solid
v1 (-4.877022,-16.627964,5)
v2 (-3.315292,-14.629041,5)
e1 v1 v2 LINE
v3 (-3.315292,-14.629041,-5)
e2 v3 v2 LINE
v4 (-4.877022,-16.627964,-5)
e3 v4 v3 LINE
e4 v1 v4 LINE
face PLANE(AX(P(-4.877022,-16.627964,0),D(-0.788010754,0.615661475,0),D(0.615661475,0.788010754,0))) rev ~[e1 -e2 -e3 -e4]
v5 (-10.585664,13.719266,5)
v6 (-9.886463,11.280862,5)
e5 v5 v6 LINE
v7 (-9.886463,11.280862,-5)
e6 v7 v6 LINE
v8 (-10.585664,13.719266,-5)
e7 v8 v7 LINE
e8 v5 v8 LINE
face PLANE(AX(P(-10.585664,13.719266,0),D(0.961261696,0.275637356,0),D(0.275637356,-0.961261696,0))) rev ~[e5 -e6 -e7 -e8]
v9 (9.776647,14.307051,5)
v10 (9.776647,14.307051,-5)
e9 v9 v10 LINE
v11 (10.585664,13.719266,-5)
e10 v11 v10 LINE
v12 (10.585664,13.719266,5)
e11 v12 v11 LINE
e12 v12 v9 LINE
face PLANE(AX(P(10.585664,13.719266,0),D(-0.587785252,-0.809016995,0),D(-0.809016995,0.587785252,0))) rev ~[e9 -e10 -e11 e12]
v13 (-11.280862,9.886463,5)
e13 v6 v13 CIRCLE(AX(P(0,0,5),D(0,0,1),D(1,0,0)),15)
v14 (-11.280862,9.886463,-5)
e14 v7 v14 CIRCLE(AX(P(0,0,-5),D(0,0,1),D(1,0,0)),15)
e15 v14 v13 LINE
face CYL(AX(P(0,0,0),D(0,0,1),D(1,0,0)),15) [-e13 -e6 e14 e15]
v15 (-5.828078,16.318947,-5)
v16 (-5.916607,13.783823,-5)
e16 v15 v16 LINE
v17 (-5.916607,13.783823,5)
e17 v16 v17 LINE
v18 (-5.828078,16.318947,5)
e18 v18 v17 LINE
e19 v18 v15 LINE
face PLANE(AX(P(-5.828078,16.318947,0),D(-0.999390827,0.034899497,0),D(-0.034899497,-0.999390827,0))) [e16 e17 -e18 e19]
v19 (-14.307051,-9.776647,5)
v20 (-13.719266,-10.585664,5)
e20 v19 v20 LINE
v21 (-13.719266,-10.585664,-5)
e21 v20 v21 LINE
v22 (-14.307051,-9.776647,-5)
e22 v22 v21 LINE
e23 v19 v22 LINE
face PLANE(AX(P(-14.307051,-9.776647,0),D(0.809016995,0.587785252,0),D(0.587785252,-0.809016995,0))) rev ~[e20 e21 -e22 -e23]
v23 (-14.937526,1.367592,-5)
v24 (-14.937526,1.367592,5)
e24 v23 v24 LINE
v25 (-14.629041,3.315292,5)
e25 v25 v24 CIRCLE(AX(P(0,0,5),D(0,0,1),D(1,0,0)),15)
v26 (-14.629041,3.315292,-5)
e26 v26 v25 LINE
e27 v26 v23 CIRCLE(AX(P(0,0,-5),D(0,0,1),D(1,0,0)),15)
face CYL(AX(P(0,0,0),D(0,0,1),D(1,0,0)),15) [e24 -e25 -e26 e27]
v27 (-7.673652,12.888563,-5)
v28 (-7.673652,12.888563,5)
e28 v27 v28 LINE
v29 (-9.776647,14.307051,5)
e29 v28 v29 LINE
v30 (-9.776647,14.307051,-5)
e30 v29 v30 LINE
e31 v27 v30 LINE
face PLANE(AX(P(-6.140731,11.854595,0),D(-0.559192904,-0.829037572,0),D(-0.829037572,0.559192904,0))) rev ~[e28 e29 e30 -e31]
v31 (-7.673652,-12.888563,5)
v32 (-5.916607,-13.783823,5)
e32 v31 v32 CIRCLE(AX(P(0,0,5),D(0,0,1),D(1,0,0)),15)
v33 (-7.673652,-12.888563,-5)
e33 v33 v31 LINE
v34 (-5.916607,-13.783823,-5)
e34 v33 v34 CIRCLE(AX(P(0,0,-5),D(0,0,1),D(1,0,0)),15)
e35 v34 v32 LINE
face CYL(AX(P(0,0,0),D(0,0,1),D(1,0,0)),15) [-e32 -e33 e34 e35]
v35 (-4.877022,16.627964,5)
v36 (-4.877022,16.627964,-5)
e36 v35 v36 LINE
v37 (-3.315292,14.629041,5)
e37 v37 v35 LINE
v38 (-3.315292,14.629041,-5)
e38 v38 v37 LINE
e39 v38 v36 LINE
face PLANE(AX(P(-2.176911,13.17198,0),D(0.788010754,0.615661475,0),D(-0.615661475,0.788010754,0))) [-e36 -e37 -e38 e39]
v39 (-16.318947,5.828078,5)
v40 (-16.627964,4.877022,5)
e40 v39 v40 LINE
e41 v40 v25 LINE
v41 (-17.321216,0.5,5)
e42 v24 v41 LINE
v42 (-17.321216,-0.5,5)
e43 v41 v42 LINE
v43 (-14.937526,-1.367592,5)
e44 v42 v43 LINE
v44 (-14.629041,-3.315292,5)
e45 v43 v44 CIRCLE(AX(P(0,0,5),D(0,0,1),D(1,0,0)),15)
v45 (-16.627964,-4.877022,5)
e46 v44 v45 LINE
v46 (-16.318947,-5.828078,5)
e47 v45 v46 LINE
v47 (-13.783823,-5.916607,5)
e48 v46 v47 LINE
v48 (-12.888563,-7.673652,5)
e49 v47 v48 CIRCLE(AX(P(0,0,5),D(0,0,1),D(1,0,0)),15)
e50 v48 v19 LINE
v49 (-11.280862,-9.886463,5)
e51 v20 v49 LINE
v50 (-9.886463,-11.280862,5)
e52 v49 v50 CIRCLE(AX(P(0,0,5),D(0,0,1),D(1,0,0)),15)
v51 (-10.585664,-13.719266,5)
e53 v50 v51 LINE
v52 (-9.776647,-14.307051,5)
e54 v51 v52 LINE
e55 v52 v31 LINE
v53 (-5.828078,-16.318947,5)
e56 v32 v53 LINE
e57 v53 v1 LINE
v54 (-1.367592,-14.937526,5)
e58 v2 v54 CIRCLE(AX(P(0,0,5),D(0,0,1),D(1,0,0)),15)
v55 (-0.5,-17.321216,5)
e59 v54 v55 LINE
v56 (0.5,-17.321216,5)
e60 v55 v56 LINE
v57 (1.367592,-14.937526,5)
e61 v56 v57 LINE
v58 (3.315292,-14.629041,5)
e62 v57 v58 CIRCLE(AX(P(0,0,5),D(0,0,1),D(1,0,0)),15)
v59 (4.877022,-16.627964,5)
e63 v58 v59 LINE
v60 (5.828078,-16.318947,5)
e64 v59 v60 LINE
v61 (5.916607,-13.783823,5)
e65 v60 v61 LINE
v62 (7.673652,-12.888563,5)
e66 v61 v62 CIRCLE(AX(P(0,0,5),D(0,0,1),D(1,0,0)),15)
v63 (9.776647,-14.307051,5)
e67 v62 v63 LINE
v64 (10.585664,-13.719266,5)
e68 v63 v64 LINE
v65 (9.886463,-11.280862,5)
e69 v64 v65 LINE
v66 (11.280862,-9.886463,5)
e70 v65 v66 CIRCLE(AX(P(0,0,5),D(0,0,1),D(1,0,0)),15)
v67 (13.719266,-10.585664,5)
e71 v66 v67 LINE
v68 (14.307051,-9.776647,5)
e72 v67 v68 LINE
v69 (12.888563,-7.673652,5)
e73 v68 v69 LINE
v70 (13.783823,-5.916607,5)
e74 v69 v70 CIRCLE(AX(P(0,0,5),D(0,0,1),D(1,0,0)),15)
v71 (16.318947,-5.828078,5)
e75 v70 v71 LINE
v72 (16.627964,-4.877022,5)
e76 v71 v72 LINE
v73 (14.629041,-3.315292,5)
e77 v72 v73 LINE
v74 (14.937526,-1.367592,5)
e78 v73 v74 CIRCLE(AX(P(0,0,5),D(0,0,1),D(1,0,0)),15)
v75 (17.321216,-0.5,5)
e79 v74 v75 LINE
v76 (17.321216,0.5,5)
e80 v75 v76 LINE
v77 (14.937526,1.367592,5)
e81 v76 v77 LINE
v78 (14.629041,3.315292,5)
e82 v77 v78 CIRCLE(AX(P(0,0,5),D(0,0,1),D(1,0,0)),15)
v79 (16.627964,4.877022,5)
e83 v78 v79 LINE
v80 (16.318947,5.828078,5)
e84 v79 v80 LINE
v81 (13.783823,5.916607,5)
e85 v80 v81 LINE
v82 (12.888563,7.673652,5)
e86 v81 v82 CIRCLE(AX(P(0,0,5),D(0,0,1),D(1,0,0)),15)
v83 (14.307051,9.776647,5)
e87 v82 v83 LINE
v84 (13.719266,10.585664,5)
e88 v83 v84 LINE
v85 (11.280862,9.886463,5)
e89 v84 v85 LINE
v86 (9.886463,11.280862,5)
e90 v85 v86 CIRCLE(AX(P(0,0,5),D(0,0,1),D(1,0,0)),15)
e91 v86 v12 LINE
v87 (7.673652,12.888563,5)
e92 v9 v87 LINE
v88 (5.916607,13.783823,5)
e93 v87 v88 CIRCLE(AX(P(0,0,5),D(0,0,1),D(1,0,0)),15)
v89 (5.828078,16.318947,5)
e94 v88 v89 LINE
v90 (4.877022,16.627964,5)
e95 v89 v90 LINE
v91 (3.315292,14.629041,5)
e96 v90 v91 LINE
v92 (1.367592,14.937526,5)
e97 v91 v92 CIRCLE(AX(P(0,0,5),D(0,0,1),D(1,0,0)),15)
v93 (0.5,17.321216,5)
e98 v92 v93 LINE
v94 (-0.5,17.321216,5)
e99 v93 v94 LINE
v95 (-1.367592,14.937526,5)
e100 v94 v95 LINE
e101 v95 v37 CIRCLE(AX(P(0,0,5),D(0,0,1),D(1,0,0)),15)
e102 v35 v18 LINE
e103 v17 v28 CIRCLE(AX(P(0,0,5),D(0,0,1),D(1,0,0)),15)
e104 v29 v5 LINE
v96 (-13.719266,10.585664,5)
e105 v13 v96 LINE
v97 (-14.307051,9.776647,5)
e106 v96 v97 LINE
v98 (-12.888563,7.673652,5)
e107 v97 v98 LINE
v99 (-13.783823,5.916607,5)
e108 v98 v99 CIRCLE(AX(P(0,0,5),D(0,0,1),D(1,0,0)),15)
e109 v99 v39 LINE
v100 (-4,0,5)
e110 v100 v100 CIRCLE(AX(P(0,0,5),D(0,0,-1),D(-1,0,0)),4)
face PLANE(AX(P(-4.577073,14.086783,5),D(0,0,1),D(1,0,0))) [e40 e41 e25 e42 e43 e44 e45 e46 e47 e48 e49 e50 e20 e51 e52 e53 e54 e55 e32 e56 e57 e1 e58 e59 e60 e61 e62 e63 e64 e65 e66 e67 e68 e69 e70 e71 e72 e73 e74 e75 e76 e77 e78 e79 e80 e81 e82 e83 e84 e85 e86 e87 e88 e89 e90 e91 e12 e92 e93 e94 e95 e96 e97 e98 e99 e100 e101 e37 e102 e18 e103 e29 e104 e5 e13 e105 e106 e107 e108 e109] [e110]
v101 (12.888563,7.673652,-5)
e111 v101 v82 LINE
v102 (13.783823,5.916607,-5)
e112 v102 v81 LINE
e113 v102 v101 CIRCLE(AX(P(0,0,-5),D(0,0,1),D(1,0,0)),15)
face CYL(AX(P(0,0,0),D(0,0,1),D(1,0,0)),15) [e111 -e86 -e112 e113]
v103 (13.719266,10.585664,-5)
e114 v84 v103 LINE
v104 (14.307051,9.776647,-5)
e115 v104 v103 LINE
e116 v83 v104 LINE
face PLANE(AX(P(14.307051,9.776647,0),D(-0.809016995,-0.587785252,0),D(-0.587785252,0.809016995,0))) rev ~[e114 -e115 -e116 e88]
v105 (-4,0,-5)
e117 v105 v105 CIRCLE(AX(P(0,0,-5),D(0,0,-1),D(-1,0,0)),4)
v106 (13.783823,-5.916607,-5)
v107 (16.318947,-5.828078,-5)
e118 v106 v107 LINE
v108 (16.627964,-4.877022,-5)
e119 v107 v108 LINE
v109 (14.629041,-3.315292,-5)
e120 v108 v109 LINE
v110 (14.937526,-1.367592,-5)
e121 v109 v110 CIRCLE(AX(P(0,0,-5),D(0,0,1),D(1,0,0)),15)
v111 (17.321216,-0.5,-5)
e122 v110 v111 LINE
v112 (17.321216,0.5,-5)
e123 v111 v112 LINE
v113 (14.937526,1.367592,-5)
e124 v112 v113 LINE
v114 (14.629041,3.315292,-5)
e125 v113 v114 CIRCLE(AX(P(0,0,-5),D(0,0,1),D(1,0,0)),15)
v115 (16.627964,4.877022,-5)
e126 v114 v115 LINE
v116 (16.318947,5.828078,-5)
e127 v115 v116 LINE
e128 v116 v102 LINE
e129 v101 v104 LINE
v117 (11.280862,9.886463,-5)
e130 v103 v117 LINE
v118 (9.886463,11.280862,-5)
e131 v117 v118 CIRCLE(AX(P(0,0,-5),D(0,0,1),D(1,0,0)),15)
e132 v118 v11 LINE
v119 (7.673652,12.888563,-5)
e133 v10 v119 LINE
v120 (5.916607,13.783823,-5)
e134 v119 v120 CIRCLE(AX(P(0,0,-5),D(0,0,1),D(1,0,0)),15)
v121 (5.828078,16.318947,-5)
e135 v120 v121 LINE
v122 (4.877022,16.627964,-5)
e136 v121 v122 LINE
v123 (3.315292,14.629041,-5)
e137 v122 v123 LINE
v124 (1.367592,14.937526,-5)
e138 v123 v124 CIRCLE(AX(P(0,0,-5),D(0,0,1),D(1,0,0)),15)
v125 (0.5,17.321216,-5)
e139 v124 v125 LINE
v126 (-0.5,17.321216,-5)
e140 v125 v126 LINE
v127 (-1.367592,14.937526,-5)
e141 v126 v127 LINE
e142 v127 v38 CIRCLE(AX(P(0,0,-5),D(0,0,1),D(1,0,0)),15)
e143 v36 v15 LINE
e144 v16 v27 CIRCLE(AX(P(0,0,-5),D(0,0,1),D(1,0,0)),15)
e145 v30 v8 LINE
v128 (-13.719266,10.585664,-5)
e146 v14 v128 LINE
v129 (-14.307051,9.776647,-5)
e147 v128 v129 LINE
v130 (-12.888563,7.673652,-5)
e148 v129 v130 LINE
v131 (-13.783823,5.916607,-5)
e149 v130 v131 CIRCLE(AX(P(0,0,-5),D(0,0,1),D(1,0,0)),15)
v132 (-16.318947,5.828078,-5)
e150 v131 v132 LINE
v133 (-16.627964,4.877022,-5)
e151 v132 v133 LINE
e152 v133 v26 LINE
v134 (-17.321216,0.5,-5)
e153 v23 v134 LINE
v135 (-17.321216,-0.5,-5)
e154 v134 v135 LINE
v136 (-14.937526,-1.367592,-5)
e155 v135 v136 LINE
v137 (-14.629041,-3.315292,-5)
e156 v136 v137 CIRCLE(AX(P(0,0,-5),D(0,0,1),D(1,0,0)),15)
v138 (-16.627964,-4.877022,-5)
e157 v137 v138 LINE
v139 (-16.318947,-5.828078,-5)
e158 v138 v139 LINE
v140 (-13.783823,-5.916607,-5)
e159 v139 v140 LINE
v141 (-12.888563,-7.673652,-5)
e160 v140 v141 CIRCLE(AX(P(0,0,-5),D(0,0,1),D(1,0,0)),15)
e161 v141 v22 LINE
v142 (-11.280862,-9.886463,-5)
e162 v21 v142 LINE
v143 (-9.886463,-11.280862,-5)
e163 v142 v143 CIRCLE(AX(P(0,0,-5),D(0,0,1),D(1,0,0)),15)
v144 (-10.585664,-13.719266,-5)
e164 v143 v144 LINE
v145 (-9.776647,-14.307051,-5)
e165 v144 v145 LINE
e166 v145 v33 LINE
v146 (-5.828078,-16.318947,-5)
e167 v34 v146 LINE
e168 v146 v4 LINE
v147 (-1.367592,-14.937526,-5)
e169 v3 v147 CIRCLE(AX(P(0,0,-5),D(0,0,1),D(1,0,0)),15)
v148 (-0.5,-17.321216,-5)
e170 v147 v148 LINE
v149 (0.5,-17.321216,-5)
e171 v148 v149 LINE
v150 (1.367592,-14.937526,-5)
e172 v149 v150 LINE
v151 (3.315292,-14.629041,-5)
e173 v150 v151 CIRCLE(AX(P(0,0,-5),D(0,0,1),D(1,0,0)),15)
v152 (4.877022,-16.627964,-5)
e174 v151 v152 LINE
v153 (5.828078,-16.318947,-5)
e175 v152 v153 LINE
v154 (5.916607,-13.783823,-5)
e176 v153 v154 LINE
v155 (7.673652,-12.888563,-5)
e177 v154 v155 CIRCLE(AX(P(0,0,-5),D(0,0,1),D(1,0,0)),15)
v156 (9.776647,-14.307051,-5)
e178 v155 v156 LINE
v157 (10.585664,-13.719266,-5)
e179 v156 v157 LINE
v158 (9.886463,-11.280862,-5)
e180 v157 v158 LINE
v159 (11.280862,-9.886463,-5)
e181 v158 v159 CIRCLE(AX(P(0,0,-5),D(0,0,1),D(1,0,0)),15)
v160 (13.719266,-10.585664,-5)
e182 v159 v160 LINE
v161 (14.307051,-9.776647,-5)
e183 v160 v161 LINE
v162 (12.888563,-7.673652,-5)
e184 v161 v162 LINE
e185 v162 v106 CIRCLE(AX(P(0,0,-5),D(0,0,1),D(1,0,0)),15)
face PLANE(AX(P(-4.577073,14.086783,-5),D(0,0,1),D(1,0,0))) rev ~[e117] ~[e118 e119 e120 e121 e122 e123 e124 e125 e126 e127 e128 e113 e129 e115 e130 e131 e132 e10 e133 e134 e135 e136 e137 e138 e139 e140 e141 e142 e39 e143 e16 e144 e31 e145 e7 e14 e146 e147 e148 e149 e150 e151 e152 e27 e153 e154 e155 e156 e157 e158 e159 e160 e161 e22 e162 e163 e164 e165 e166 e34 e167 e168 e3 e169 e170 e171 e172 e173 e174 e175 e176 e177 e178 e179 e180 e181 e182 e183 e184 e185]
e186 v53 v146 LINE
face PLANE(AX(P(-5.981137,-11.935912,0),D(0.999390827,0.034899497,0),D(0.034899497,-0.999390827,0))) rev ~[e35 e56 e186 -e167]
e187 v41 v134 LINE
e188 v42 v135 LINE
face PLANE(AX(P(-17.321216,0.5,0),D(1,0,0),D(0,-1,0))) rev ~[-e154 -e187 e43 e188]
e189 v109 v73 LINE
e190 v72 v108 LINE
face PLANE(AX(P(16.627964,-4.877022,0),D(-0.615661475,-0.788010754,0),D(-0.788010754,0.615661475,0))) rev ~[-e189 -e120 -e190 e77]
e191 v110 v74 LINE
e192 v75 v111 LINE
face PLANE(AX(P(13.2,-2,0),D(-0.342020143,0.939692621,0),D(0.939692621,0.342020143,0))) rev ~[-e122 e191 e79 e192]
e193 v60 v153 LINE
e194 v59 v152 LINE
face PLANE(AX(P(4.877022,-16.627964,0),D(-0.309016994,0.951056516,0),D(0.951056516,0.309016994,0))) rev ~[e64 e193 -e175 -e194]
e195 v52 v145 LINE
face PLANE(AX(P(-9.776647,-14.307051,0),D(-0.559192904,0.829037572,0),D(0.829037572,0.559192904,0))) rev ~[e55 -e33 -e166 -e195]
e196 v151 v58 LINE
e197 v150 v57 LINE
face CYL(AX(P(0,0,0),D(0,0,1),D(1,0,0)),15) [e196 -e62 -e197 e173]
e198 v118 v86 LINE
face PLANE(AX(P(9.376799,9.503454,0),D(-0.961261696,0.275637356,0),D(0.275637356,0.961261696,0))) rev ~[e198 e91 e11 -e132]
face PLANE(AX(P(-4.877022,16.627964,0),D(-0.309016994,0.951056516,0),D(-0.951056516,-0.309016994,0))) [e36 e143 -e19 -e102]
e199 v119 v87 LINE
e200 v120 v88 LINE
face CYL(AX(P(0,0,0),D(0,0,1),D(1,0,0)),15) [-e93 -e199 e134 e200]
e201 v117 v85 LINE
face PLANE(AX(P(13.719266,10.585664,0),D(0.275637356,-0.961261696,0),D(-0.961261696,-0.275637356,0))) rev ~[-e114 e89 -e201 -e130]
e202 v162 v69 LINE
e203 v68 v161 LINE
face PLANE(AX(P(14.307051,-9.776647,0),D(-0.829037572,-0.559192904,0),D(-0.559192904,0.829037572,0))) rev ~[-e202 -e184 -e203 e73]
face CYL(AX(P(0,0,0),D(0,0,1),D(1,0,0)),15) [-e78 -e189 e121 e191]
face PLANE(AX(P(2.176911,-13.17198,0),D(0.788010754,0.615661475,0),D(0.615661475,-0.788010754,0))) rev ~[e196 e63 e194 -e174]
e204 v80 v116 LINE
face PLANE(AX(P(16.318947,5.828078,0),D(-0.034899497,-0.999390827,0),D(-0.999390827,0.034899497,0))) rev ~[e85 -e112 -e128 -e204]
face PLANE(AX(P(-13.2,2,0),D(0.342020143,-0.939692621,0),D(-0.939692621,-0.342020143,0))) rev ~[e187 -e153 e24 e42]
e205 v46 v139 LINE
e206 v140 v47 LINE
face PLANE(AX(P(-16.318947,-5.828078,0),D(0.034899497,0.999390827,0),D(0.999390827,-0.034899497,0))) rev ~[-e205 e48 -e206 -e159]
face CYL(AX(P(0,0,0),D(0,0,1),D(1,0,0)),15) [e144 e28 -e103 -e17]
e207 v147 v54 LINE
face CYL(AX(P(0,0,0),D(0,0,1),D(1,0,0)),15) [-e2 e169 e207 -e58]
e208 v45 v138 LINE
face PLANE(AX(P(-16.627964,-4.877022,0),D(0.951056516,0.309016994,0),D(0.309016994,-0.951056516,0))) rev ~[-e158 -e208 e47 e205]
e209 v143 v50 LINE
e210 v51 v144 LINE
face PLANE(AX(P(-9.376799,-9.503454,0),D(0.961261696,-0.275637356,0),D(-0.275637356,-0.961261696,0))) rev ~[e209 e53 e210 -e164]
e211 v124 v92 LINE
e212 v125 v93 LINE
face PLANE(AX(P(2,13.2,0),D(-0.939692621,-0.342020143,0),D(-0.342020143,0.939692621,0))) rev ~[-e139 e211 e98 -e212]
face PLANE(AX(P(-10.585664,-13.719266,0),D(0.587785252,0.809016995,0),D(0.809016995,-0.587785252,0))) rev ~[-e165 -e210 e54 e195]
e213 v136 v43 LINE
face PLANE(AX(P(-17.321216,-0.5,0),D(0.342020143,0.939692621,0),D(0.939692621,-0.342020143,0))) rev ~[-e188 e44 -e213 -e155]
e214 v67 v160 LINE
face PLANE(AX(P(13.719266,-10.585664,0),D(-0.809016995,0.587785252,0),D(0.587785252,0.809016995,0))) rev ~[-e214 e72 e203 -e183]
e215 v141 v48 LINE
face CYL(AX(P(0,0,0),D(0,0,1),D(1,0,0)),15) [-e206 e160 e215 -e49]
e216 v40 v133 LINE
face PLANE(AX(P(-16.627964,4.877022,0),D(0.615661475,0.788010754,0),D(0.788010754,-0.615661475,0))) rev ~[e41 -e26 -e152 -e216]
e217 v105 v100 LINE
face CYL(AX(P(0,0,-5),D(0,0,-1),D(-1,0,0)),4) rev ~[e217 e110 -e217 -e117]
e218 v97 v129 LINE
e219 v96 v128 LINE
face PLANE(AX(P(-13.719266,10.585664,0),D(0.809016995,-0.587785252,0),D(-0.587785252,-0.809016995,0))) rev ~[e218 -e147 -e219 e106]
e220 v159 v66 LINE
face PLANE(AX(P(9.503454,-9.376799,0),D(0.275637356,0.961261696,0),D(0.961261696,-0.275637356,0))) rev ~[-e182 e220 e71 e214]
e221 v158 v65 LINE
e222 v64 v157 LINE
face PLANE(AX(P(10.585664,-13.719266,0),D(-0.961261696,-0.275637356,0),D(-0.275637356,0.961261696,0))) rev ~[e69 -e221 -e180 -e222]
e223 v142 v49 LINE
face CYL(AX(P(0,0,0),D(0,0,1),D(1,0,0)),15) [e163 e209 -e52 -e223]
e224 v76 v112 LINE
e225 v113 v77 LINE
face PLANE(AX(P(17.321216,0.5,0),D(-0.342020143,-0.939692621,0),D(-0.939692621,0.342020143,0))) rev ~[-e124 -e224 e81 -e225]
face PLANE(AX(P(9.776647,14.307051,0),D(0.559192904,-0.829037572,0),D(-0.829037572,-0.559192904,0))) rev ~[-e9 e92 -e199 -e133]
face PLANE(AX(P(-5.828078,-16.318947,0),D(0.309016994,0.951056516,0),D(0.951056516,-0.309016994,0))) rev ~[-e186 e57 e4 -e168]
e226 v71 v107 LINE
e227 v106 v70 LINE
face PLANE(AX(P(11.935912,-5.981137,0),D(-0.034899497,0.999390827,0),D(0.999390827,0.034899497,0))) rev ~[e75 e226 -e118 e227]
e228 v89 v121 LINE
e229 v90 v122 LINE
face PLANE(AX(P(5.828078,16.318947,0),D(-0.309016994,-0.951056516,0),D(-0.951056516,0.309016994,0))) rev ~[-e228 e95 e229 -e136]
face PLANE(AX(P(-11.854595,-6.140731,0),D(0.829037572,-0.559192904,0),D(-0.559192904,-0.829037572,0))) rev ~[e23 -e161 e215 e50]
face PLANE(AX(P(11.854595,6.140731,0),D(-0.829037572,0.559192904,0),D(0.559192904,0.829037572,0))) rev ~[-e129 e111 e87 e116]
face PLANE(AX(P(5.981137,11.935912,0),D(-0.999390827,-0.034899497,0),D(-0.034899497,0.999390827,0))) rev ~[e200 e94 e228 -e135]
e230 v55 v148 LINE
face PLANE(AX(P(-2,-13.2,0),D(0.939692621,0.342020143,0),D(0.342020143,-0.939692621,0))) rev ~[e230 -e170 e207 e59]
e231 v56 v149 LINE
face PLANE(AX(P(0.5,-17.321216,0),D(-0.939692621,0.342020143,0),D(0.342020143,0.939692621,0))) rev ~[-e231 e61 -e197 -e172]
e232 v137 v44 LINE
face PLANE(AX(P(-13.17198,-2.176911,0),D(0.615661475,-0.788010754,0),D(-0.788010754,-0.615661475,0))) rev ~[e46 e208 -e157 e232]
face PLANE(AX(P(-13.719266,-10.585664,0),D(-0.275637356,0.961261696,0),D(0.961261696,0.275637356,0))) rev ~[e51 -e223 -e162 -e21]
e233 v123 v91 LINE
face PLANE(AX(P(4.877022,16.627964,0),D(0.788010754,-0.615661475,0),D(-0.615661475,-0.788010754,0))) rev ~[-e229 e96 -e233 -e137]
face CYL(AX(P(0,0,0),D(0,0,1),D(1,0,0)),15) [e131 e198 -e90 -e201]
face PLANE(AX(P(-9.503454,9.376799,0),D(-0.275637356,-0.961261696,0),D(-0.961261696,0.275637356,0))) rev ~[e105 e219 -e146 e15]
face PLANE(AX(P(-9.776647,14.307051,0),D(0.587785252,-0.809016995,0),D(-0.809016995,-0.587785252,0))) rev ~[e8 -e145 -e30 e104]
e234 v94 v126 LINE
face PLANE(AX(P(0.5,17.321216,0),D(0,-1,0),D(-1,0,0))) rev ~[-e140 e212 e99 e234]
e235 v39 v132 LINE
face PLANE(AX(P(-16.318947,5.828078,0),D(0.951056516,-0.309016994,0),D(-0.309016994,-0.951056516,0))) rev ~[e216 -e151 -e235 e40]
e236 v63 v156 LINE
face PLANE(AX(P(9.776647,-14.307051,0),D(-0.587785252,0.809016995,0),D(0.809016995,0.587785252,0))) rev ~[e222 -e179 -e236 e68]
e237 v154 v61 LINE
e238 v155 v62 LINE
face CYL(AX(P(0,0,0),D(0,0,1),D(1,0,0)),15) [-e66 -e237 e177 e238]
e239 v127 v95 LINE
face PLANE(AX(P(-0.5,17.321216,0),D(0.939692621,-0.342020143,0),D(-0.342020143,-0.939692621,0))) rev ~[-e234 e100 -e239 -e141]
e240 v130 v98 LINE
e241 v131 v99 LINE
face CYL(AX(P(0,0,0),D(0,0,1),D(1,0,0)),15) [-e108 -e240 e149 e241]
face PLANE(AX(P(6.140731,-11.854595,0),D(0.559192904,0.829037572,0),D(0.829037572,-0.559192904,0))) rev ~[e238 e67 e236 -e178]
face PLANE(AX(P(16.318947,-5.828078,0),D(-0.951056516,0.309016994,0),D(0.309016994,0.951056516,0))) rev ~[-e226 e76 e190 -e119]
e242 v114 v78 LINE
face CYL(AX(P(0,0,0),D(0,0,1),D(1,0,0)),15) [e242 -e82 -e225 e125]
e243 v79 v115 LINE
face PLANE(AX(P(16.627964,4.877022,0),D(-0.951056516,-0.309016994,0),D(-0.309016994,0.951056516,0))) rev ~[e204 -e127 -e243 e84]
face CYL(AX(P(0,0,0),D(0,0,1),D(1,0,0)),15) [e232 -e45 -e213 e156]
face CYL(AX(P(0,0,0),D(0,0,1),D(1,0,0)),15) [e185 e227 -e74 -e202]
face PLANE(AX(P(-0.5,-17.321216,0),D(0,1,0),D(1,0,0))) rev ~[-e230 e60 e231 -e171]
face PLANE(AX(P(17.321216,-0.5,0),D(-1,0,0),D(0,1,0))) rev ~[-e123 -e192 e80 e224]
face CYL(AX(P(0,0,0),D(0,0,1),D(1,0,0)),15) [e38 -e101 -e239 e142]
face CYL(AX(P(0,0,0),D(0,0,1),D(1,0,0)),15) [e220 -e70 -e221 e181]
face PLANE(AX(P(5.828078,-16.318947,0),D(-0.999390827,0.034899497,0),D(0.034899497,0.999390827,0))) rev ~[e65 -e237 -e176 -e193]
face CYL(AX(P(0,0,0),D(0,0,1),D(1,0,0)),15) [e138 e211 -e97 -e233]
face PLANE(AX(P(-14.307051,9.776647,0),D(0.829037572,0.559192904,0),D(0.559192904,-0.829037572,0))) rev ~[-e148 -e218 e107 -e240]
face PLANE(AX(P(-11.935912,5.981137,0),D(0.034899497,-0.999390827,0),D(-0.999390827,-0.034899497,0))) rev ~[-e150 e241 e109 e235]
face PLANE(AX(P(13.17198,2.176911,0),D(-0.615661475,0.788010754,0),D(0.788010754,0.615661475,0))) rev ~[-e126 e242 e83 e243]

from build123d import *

# Parameters (mm, degrees)
IZIM1_R                     = 15
Y_KSEKLIK_EKSTR_ZYON1_DEPTH = 5
Y_KSEKLIK_EKSTR_ZYON2_DEPTH = 5
IZIM3_R                     = 4
KES_EKSTR_ZYON1_DEPTH       = 11


with BuildPart() as part:
    # Çizim1 → Yükseklik-Ekstrüzyon1 (new body, symmetric)
    with BuildSketch(Plane.XY):
        Circle(IZIM1_R)
    extrude(amount=Y_KSEKLIK_EKSTR_ZYON1_DEPTH, both=True)

    # Çizim2 → Yükseklik-Ekstrüzyon2 (add, symmetric)
    with BuildSketch(Plane.XY):
        Polygon((-2, 13.2), (2, 13.2), (0.5, 17.321216129), (-0.5, 17.321216129), align=None)
        Polygon((4.877021889, 16.627963967), (2.176911293, 13.171980004), (5.981137358, 11.935912026), (5.828078405, 16.318946973), align=None)
        Polygon((9.776646895, 14.307050838), (6.140731342, 11.85459483), (9.376799319, 9.503453821), (10.58566389, 13.719265586), align=None)
        Polygon((13.719265586, 10.58566389), (9.503453821, 9.376799319), (11.85459483, 6.140731342), (14.307050838, 9.776646895), align=None)
        Polygon((16.318946973, 5.828078405), (11.935912026, 5.981137358), (13.171980004, 2.176911293), (16.627963967, 4.877021889), align=None)
        Polygon((17.321216129, 0.5), (13.2, 2), (13.2, -2), (17.321216129, -0.5), align=None)
        Polygon((16.627963967, -4.877021889), (13.171980004, -2.176911293), (11.935912026, -5.981137358), (16.318946973, -5.828078405), align=None)
        Polygon((14.307050838, -9.776646895), (11.85459483, -6.140731342), (9.503453821, -9.376799319), (13.719265586, -10.58566389), align=None)
        Polygon((10.58566389, -13.719265586), (9.376799319, -9.503453821), (6.140731342, -11.85459483), (9.776646895, -14.307050838), align=None)
        Polygon((5.828078405, -16.318946973), (5.981137358, -11.935912026), (2.176911293, -13.171980004), (4.877021889, -16.627963967), align=None)
        Polygon((0.5, -17.321216129), (2, -13.2), (-2, -13.2), (-0.5, -17.321216129), align=None)
        Polygon((-4.877021889, -16.627963967), (-2.176911293, -13.171980004), (-5.981137358, -11.935912026), (-5.828078405, -16.318946973), align=None)
        Polygon((-9.776646895, -14.307050838), (-6.140731342, -11.85459483), (-9.376799319, -9.503453821), (-10.58566389, -13.719265586), align=None)
        Polygon((-13.719265586, -10.58566389), (-9.503453821, -9.376799319), (-11.85459483, -6.140731342), (-14.307050838, -9.776646895), align=None)
        Polygon((-16.318946973, -5.828078405), (-11.935912026, -5.981137358), (-13.171980004, -2.176911293), (-16.627963967, -4.877021889), align=None)
        Polygon((-17.321216129, -0.5), (-13.2, -2), (-13.2, 2), (-17.321216129, 0.5), align=None)
        Polygon((-16.627963967, 4.877021889), (-13.171980004, 2.176911293), (-11.935912026, 5.981137358), (-16.318946973, 5.828078405), align=None)
        Polygon((-14.307050838, 9.776646895), (-11.85459483, 6.140731342), (-9.503453821, 9.376799319), (-13.719265586, 10.58566389), align=None)
        Polygon((-10.58566389, 13.719265586), (-9.376799319, 9.503453821), (-6.140731342, 11.85459483), (-9.776646895, 14.307050838), align=None)
        Polygon((-5.828078405, 16.318946973), (-5.981137358, 11.935912026), (-2.176911293, 13.171980004), (-4.877021889, 16.627963967), align=None)
    extrude(amount=Y_KSEKLIK_EKSTR_ZYON2_DEPTH, both=True)

    # Çizim3 → Kes-Ekstrüzyon1 (cut, through all)
    with BuildSketch(Plane(origin=(0, 0, -5), x_dir=(-1, 0, 0), z_dir=(0, 0, -1))):
        Circle(IZIM3_R)
    extrude(amount=-KES_EKSTR_ZYON1_DEPTH, mode=Mode.SUBTRACT)


solid = part.part
